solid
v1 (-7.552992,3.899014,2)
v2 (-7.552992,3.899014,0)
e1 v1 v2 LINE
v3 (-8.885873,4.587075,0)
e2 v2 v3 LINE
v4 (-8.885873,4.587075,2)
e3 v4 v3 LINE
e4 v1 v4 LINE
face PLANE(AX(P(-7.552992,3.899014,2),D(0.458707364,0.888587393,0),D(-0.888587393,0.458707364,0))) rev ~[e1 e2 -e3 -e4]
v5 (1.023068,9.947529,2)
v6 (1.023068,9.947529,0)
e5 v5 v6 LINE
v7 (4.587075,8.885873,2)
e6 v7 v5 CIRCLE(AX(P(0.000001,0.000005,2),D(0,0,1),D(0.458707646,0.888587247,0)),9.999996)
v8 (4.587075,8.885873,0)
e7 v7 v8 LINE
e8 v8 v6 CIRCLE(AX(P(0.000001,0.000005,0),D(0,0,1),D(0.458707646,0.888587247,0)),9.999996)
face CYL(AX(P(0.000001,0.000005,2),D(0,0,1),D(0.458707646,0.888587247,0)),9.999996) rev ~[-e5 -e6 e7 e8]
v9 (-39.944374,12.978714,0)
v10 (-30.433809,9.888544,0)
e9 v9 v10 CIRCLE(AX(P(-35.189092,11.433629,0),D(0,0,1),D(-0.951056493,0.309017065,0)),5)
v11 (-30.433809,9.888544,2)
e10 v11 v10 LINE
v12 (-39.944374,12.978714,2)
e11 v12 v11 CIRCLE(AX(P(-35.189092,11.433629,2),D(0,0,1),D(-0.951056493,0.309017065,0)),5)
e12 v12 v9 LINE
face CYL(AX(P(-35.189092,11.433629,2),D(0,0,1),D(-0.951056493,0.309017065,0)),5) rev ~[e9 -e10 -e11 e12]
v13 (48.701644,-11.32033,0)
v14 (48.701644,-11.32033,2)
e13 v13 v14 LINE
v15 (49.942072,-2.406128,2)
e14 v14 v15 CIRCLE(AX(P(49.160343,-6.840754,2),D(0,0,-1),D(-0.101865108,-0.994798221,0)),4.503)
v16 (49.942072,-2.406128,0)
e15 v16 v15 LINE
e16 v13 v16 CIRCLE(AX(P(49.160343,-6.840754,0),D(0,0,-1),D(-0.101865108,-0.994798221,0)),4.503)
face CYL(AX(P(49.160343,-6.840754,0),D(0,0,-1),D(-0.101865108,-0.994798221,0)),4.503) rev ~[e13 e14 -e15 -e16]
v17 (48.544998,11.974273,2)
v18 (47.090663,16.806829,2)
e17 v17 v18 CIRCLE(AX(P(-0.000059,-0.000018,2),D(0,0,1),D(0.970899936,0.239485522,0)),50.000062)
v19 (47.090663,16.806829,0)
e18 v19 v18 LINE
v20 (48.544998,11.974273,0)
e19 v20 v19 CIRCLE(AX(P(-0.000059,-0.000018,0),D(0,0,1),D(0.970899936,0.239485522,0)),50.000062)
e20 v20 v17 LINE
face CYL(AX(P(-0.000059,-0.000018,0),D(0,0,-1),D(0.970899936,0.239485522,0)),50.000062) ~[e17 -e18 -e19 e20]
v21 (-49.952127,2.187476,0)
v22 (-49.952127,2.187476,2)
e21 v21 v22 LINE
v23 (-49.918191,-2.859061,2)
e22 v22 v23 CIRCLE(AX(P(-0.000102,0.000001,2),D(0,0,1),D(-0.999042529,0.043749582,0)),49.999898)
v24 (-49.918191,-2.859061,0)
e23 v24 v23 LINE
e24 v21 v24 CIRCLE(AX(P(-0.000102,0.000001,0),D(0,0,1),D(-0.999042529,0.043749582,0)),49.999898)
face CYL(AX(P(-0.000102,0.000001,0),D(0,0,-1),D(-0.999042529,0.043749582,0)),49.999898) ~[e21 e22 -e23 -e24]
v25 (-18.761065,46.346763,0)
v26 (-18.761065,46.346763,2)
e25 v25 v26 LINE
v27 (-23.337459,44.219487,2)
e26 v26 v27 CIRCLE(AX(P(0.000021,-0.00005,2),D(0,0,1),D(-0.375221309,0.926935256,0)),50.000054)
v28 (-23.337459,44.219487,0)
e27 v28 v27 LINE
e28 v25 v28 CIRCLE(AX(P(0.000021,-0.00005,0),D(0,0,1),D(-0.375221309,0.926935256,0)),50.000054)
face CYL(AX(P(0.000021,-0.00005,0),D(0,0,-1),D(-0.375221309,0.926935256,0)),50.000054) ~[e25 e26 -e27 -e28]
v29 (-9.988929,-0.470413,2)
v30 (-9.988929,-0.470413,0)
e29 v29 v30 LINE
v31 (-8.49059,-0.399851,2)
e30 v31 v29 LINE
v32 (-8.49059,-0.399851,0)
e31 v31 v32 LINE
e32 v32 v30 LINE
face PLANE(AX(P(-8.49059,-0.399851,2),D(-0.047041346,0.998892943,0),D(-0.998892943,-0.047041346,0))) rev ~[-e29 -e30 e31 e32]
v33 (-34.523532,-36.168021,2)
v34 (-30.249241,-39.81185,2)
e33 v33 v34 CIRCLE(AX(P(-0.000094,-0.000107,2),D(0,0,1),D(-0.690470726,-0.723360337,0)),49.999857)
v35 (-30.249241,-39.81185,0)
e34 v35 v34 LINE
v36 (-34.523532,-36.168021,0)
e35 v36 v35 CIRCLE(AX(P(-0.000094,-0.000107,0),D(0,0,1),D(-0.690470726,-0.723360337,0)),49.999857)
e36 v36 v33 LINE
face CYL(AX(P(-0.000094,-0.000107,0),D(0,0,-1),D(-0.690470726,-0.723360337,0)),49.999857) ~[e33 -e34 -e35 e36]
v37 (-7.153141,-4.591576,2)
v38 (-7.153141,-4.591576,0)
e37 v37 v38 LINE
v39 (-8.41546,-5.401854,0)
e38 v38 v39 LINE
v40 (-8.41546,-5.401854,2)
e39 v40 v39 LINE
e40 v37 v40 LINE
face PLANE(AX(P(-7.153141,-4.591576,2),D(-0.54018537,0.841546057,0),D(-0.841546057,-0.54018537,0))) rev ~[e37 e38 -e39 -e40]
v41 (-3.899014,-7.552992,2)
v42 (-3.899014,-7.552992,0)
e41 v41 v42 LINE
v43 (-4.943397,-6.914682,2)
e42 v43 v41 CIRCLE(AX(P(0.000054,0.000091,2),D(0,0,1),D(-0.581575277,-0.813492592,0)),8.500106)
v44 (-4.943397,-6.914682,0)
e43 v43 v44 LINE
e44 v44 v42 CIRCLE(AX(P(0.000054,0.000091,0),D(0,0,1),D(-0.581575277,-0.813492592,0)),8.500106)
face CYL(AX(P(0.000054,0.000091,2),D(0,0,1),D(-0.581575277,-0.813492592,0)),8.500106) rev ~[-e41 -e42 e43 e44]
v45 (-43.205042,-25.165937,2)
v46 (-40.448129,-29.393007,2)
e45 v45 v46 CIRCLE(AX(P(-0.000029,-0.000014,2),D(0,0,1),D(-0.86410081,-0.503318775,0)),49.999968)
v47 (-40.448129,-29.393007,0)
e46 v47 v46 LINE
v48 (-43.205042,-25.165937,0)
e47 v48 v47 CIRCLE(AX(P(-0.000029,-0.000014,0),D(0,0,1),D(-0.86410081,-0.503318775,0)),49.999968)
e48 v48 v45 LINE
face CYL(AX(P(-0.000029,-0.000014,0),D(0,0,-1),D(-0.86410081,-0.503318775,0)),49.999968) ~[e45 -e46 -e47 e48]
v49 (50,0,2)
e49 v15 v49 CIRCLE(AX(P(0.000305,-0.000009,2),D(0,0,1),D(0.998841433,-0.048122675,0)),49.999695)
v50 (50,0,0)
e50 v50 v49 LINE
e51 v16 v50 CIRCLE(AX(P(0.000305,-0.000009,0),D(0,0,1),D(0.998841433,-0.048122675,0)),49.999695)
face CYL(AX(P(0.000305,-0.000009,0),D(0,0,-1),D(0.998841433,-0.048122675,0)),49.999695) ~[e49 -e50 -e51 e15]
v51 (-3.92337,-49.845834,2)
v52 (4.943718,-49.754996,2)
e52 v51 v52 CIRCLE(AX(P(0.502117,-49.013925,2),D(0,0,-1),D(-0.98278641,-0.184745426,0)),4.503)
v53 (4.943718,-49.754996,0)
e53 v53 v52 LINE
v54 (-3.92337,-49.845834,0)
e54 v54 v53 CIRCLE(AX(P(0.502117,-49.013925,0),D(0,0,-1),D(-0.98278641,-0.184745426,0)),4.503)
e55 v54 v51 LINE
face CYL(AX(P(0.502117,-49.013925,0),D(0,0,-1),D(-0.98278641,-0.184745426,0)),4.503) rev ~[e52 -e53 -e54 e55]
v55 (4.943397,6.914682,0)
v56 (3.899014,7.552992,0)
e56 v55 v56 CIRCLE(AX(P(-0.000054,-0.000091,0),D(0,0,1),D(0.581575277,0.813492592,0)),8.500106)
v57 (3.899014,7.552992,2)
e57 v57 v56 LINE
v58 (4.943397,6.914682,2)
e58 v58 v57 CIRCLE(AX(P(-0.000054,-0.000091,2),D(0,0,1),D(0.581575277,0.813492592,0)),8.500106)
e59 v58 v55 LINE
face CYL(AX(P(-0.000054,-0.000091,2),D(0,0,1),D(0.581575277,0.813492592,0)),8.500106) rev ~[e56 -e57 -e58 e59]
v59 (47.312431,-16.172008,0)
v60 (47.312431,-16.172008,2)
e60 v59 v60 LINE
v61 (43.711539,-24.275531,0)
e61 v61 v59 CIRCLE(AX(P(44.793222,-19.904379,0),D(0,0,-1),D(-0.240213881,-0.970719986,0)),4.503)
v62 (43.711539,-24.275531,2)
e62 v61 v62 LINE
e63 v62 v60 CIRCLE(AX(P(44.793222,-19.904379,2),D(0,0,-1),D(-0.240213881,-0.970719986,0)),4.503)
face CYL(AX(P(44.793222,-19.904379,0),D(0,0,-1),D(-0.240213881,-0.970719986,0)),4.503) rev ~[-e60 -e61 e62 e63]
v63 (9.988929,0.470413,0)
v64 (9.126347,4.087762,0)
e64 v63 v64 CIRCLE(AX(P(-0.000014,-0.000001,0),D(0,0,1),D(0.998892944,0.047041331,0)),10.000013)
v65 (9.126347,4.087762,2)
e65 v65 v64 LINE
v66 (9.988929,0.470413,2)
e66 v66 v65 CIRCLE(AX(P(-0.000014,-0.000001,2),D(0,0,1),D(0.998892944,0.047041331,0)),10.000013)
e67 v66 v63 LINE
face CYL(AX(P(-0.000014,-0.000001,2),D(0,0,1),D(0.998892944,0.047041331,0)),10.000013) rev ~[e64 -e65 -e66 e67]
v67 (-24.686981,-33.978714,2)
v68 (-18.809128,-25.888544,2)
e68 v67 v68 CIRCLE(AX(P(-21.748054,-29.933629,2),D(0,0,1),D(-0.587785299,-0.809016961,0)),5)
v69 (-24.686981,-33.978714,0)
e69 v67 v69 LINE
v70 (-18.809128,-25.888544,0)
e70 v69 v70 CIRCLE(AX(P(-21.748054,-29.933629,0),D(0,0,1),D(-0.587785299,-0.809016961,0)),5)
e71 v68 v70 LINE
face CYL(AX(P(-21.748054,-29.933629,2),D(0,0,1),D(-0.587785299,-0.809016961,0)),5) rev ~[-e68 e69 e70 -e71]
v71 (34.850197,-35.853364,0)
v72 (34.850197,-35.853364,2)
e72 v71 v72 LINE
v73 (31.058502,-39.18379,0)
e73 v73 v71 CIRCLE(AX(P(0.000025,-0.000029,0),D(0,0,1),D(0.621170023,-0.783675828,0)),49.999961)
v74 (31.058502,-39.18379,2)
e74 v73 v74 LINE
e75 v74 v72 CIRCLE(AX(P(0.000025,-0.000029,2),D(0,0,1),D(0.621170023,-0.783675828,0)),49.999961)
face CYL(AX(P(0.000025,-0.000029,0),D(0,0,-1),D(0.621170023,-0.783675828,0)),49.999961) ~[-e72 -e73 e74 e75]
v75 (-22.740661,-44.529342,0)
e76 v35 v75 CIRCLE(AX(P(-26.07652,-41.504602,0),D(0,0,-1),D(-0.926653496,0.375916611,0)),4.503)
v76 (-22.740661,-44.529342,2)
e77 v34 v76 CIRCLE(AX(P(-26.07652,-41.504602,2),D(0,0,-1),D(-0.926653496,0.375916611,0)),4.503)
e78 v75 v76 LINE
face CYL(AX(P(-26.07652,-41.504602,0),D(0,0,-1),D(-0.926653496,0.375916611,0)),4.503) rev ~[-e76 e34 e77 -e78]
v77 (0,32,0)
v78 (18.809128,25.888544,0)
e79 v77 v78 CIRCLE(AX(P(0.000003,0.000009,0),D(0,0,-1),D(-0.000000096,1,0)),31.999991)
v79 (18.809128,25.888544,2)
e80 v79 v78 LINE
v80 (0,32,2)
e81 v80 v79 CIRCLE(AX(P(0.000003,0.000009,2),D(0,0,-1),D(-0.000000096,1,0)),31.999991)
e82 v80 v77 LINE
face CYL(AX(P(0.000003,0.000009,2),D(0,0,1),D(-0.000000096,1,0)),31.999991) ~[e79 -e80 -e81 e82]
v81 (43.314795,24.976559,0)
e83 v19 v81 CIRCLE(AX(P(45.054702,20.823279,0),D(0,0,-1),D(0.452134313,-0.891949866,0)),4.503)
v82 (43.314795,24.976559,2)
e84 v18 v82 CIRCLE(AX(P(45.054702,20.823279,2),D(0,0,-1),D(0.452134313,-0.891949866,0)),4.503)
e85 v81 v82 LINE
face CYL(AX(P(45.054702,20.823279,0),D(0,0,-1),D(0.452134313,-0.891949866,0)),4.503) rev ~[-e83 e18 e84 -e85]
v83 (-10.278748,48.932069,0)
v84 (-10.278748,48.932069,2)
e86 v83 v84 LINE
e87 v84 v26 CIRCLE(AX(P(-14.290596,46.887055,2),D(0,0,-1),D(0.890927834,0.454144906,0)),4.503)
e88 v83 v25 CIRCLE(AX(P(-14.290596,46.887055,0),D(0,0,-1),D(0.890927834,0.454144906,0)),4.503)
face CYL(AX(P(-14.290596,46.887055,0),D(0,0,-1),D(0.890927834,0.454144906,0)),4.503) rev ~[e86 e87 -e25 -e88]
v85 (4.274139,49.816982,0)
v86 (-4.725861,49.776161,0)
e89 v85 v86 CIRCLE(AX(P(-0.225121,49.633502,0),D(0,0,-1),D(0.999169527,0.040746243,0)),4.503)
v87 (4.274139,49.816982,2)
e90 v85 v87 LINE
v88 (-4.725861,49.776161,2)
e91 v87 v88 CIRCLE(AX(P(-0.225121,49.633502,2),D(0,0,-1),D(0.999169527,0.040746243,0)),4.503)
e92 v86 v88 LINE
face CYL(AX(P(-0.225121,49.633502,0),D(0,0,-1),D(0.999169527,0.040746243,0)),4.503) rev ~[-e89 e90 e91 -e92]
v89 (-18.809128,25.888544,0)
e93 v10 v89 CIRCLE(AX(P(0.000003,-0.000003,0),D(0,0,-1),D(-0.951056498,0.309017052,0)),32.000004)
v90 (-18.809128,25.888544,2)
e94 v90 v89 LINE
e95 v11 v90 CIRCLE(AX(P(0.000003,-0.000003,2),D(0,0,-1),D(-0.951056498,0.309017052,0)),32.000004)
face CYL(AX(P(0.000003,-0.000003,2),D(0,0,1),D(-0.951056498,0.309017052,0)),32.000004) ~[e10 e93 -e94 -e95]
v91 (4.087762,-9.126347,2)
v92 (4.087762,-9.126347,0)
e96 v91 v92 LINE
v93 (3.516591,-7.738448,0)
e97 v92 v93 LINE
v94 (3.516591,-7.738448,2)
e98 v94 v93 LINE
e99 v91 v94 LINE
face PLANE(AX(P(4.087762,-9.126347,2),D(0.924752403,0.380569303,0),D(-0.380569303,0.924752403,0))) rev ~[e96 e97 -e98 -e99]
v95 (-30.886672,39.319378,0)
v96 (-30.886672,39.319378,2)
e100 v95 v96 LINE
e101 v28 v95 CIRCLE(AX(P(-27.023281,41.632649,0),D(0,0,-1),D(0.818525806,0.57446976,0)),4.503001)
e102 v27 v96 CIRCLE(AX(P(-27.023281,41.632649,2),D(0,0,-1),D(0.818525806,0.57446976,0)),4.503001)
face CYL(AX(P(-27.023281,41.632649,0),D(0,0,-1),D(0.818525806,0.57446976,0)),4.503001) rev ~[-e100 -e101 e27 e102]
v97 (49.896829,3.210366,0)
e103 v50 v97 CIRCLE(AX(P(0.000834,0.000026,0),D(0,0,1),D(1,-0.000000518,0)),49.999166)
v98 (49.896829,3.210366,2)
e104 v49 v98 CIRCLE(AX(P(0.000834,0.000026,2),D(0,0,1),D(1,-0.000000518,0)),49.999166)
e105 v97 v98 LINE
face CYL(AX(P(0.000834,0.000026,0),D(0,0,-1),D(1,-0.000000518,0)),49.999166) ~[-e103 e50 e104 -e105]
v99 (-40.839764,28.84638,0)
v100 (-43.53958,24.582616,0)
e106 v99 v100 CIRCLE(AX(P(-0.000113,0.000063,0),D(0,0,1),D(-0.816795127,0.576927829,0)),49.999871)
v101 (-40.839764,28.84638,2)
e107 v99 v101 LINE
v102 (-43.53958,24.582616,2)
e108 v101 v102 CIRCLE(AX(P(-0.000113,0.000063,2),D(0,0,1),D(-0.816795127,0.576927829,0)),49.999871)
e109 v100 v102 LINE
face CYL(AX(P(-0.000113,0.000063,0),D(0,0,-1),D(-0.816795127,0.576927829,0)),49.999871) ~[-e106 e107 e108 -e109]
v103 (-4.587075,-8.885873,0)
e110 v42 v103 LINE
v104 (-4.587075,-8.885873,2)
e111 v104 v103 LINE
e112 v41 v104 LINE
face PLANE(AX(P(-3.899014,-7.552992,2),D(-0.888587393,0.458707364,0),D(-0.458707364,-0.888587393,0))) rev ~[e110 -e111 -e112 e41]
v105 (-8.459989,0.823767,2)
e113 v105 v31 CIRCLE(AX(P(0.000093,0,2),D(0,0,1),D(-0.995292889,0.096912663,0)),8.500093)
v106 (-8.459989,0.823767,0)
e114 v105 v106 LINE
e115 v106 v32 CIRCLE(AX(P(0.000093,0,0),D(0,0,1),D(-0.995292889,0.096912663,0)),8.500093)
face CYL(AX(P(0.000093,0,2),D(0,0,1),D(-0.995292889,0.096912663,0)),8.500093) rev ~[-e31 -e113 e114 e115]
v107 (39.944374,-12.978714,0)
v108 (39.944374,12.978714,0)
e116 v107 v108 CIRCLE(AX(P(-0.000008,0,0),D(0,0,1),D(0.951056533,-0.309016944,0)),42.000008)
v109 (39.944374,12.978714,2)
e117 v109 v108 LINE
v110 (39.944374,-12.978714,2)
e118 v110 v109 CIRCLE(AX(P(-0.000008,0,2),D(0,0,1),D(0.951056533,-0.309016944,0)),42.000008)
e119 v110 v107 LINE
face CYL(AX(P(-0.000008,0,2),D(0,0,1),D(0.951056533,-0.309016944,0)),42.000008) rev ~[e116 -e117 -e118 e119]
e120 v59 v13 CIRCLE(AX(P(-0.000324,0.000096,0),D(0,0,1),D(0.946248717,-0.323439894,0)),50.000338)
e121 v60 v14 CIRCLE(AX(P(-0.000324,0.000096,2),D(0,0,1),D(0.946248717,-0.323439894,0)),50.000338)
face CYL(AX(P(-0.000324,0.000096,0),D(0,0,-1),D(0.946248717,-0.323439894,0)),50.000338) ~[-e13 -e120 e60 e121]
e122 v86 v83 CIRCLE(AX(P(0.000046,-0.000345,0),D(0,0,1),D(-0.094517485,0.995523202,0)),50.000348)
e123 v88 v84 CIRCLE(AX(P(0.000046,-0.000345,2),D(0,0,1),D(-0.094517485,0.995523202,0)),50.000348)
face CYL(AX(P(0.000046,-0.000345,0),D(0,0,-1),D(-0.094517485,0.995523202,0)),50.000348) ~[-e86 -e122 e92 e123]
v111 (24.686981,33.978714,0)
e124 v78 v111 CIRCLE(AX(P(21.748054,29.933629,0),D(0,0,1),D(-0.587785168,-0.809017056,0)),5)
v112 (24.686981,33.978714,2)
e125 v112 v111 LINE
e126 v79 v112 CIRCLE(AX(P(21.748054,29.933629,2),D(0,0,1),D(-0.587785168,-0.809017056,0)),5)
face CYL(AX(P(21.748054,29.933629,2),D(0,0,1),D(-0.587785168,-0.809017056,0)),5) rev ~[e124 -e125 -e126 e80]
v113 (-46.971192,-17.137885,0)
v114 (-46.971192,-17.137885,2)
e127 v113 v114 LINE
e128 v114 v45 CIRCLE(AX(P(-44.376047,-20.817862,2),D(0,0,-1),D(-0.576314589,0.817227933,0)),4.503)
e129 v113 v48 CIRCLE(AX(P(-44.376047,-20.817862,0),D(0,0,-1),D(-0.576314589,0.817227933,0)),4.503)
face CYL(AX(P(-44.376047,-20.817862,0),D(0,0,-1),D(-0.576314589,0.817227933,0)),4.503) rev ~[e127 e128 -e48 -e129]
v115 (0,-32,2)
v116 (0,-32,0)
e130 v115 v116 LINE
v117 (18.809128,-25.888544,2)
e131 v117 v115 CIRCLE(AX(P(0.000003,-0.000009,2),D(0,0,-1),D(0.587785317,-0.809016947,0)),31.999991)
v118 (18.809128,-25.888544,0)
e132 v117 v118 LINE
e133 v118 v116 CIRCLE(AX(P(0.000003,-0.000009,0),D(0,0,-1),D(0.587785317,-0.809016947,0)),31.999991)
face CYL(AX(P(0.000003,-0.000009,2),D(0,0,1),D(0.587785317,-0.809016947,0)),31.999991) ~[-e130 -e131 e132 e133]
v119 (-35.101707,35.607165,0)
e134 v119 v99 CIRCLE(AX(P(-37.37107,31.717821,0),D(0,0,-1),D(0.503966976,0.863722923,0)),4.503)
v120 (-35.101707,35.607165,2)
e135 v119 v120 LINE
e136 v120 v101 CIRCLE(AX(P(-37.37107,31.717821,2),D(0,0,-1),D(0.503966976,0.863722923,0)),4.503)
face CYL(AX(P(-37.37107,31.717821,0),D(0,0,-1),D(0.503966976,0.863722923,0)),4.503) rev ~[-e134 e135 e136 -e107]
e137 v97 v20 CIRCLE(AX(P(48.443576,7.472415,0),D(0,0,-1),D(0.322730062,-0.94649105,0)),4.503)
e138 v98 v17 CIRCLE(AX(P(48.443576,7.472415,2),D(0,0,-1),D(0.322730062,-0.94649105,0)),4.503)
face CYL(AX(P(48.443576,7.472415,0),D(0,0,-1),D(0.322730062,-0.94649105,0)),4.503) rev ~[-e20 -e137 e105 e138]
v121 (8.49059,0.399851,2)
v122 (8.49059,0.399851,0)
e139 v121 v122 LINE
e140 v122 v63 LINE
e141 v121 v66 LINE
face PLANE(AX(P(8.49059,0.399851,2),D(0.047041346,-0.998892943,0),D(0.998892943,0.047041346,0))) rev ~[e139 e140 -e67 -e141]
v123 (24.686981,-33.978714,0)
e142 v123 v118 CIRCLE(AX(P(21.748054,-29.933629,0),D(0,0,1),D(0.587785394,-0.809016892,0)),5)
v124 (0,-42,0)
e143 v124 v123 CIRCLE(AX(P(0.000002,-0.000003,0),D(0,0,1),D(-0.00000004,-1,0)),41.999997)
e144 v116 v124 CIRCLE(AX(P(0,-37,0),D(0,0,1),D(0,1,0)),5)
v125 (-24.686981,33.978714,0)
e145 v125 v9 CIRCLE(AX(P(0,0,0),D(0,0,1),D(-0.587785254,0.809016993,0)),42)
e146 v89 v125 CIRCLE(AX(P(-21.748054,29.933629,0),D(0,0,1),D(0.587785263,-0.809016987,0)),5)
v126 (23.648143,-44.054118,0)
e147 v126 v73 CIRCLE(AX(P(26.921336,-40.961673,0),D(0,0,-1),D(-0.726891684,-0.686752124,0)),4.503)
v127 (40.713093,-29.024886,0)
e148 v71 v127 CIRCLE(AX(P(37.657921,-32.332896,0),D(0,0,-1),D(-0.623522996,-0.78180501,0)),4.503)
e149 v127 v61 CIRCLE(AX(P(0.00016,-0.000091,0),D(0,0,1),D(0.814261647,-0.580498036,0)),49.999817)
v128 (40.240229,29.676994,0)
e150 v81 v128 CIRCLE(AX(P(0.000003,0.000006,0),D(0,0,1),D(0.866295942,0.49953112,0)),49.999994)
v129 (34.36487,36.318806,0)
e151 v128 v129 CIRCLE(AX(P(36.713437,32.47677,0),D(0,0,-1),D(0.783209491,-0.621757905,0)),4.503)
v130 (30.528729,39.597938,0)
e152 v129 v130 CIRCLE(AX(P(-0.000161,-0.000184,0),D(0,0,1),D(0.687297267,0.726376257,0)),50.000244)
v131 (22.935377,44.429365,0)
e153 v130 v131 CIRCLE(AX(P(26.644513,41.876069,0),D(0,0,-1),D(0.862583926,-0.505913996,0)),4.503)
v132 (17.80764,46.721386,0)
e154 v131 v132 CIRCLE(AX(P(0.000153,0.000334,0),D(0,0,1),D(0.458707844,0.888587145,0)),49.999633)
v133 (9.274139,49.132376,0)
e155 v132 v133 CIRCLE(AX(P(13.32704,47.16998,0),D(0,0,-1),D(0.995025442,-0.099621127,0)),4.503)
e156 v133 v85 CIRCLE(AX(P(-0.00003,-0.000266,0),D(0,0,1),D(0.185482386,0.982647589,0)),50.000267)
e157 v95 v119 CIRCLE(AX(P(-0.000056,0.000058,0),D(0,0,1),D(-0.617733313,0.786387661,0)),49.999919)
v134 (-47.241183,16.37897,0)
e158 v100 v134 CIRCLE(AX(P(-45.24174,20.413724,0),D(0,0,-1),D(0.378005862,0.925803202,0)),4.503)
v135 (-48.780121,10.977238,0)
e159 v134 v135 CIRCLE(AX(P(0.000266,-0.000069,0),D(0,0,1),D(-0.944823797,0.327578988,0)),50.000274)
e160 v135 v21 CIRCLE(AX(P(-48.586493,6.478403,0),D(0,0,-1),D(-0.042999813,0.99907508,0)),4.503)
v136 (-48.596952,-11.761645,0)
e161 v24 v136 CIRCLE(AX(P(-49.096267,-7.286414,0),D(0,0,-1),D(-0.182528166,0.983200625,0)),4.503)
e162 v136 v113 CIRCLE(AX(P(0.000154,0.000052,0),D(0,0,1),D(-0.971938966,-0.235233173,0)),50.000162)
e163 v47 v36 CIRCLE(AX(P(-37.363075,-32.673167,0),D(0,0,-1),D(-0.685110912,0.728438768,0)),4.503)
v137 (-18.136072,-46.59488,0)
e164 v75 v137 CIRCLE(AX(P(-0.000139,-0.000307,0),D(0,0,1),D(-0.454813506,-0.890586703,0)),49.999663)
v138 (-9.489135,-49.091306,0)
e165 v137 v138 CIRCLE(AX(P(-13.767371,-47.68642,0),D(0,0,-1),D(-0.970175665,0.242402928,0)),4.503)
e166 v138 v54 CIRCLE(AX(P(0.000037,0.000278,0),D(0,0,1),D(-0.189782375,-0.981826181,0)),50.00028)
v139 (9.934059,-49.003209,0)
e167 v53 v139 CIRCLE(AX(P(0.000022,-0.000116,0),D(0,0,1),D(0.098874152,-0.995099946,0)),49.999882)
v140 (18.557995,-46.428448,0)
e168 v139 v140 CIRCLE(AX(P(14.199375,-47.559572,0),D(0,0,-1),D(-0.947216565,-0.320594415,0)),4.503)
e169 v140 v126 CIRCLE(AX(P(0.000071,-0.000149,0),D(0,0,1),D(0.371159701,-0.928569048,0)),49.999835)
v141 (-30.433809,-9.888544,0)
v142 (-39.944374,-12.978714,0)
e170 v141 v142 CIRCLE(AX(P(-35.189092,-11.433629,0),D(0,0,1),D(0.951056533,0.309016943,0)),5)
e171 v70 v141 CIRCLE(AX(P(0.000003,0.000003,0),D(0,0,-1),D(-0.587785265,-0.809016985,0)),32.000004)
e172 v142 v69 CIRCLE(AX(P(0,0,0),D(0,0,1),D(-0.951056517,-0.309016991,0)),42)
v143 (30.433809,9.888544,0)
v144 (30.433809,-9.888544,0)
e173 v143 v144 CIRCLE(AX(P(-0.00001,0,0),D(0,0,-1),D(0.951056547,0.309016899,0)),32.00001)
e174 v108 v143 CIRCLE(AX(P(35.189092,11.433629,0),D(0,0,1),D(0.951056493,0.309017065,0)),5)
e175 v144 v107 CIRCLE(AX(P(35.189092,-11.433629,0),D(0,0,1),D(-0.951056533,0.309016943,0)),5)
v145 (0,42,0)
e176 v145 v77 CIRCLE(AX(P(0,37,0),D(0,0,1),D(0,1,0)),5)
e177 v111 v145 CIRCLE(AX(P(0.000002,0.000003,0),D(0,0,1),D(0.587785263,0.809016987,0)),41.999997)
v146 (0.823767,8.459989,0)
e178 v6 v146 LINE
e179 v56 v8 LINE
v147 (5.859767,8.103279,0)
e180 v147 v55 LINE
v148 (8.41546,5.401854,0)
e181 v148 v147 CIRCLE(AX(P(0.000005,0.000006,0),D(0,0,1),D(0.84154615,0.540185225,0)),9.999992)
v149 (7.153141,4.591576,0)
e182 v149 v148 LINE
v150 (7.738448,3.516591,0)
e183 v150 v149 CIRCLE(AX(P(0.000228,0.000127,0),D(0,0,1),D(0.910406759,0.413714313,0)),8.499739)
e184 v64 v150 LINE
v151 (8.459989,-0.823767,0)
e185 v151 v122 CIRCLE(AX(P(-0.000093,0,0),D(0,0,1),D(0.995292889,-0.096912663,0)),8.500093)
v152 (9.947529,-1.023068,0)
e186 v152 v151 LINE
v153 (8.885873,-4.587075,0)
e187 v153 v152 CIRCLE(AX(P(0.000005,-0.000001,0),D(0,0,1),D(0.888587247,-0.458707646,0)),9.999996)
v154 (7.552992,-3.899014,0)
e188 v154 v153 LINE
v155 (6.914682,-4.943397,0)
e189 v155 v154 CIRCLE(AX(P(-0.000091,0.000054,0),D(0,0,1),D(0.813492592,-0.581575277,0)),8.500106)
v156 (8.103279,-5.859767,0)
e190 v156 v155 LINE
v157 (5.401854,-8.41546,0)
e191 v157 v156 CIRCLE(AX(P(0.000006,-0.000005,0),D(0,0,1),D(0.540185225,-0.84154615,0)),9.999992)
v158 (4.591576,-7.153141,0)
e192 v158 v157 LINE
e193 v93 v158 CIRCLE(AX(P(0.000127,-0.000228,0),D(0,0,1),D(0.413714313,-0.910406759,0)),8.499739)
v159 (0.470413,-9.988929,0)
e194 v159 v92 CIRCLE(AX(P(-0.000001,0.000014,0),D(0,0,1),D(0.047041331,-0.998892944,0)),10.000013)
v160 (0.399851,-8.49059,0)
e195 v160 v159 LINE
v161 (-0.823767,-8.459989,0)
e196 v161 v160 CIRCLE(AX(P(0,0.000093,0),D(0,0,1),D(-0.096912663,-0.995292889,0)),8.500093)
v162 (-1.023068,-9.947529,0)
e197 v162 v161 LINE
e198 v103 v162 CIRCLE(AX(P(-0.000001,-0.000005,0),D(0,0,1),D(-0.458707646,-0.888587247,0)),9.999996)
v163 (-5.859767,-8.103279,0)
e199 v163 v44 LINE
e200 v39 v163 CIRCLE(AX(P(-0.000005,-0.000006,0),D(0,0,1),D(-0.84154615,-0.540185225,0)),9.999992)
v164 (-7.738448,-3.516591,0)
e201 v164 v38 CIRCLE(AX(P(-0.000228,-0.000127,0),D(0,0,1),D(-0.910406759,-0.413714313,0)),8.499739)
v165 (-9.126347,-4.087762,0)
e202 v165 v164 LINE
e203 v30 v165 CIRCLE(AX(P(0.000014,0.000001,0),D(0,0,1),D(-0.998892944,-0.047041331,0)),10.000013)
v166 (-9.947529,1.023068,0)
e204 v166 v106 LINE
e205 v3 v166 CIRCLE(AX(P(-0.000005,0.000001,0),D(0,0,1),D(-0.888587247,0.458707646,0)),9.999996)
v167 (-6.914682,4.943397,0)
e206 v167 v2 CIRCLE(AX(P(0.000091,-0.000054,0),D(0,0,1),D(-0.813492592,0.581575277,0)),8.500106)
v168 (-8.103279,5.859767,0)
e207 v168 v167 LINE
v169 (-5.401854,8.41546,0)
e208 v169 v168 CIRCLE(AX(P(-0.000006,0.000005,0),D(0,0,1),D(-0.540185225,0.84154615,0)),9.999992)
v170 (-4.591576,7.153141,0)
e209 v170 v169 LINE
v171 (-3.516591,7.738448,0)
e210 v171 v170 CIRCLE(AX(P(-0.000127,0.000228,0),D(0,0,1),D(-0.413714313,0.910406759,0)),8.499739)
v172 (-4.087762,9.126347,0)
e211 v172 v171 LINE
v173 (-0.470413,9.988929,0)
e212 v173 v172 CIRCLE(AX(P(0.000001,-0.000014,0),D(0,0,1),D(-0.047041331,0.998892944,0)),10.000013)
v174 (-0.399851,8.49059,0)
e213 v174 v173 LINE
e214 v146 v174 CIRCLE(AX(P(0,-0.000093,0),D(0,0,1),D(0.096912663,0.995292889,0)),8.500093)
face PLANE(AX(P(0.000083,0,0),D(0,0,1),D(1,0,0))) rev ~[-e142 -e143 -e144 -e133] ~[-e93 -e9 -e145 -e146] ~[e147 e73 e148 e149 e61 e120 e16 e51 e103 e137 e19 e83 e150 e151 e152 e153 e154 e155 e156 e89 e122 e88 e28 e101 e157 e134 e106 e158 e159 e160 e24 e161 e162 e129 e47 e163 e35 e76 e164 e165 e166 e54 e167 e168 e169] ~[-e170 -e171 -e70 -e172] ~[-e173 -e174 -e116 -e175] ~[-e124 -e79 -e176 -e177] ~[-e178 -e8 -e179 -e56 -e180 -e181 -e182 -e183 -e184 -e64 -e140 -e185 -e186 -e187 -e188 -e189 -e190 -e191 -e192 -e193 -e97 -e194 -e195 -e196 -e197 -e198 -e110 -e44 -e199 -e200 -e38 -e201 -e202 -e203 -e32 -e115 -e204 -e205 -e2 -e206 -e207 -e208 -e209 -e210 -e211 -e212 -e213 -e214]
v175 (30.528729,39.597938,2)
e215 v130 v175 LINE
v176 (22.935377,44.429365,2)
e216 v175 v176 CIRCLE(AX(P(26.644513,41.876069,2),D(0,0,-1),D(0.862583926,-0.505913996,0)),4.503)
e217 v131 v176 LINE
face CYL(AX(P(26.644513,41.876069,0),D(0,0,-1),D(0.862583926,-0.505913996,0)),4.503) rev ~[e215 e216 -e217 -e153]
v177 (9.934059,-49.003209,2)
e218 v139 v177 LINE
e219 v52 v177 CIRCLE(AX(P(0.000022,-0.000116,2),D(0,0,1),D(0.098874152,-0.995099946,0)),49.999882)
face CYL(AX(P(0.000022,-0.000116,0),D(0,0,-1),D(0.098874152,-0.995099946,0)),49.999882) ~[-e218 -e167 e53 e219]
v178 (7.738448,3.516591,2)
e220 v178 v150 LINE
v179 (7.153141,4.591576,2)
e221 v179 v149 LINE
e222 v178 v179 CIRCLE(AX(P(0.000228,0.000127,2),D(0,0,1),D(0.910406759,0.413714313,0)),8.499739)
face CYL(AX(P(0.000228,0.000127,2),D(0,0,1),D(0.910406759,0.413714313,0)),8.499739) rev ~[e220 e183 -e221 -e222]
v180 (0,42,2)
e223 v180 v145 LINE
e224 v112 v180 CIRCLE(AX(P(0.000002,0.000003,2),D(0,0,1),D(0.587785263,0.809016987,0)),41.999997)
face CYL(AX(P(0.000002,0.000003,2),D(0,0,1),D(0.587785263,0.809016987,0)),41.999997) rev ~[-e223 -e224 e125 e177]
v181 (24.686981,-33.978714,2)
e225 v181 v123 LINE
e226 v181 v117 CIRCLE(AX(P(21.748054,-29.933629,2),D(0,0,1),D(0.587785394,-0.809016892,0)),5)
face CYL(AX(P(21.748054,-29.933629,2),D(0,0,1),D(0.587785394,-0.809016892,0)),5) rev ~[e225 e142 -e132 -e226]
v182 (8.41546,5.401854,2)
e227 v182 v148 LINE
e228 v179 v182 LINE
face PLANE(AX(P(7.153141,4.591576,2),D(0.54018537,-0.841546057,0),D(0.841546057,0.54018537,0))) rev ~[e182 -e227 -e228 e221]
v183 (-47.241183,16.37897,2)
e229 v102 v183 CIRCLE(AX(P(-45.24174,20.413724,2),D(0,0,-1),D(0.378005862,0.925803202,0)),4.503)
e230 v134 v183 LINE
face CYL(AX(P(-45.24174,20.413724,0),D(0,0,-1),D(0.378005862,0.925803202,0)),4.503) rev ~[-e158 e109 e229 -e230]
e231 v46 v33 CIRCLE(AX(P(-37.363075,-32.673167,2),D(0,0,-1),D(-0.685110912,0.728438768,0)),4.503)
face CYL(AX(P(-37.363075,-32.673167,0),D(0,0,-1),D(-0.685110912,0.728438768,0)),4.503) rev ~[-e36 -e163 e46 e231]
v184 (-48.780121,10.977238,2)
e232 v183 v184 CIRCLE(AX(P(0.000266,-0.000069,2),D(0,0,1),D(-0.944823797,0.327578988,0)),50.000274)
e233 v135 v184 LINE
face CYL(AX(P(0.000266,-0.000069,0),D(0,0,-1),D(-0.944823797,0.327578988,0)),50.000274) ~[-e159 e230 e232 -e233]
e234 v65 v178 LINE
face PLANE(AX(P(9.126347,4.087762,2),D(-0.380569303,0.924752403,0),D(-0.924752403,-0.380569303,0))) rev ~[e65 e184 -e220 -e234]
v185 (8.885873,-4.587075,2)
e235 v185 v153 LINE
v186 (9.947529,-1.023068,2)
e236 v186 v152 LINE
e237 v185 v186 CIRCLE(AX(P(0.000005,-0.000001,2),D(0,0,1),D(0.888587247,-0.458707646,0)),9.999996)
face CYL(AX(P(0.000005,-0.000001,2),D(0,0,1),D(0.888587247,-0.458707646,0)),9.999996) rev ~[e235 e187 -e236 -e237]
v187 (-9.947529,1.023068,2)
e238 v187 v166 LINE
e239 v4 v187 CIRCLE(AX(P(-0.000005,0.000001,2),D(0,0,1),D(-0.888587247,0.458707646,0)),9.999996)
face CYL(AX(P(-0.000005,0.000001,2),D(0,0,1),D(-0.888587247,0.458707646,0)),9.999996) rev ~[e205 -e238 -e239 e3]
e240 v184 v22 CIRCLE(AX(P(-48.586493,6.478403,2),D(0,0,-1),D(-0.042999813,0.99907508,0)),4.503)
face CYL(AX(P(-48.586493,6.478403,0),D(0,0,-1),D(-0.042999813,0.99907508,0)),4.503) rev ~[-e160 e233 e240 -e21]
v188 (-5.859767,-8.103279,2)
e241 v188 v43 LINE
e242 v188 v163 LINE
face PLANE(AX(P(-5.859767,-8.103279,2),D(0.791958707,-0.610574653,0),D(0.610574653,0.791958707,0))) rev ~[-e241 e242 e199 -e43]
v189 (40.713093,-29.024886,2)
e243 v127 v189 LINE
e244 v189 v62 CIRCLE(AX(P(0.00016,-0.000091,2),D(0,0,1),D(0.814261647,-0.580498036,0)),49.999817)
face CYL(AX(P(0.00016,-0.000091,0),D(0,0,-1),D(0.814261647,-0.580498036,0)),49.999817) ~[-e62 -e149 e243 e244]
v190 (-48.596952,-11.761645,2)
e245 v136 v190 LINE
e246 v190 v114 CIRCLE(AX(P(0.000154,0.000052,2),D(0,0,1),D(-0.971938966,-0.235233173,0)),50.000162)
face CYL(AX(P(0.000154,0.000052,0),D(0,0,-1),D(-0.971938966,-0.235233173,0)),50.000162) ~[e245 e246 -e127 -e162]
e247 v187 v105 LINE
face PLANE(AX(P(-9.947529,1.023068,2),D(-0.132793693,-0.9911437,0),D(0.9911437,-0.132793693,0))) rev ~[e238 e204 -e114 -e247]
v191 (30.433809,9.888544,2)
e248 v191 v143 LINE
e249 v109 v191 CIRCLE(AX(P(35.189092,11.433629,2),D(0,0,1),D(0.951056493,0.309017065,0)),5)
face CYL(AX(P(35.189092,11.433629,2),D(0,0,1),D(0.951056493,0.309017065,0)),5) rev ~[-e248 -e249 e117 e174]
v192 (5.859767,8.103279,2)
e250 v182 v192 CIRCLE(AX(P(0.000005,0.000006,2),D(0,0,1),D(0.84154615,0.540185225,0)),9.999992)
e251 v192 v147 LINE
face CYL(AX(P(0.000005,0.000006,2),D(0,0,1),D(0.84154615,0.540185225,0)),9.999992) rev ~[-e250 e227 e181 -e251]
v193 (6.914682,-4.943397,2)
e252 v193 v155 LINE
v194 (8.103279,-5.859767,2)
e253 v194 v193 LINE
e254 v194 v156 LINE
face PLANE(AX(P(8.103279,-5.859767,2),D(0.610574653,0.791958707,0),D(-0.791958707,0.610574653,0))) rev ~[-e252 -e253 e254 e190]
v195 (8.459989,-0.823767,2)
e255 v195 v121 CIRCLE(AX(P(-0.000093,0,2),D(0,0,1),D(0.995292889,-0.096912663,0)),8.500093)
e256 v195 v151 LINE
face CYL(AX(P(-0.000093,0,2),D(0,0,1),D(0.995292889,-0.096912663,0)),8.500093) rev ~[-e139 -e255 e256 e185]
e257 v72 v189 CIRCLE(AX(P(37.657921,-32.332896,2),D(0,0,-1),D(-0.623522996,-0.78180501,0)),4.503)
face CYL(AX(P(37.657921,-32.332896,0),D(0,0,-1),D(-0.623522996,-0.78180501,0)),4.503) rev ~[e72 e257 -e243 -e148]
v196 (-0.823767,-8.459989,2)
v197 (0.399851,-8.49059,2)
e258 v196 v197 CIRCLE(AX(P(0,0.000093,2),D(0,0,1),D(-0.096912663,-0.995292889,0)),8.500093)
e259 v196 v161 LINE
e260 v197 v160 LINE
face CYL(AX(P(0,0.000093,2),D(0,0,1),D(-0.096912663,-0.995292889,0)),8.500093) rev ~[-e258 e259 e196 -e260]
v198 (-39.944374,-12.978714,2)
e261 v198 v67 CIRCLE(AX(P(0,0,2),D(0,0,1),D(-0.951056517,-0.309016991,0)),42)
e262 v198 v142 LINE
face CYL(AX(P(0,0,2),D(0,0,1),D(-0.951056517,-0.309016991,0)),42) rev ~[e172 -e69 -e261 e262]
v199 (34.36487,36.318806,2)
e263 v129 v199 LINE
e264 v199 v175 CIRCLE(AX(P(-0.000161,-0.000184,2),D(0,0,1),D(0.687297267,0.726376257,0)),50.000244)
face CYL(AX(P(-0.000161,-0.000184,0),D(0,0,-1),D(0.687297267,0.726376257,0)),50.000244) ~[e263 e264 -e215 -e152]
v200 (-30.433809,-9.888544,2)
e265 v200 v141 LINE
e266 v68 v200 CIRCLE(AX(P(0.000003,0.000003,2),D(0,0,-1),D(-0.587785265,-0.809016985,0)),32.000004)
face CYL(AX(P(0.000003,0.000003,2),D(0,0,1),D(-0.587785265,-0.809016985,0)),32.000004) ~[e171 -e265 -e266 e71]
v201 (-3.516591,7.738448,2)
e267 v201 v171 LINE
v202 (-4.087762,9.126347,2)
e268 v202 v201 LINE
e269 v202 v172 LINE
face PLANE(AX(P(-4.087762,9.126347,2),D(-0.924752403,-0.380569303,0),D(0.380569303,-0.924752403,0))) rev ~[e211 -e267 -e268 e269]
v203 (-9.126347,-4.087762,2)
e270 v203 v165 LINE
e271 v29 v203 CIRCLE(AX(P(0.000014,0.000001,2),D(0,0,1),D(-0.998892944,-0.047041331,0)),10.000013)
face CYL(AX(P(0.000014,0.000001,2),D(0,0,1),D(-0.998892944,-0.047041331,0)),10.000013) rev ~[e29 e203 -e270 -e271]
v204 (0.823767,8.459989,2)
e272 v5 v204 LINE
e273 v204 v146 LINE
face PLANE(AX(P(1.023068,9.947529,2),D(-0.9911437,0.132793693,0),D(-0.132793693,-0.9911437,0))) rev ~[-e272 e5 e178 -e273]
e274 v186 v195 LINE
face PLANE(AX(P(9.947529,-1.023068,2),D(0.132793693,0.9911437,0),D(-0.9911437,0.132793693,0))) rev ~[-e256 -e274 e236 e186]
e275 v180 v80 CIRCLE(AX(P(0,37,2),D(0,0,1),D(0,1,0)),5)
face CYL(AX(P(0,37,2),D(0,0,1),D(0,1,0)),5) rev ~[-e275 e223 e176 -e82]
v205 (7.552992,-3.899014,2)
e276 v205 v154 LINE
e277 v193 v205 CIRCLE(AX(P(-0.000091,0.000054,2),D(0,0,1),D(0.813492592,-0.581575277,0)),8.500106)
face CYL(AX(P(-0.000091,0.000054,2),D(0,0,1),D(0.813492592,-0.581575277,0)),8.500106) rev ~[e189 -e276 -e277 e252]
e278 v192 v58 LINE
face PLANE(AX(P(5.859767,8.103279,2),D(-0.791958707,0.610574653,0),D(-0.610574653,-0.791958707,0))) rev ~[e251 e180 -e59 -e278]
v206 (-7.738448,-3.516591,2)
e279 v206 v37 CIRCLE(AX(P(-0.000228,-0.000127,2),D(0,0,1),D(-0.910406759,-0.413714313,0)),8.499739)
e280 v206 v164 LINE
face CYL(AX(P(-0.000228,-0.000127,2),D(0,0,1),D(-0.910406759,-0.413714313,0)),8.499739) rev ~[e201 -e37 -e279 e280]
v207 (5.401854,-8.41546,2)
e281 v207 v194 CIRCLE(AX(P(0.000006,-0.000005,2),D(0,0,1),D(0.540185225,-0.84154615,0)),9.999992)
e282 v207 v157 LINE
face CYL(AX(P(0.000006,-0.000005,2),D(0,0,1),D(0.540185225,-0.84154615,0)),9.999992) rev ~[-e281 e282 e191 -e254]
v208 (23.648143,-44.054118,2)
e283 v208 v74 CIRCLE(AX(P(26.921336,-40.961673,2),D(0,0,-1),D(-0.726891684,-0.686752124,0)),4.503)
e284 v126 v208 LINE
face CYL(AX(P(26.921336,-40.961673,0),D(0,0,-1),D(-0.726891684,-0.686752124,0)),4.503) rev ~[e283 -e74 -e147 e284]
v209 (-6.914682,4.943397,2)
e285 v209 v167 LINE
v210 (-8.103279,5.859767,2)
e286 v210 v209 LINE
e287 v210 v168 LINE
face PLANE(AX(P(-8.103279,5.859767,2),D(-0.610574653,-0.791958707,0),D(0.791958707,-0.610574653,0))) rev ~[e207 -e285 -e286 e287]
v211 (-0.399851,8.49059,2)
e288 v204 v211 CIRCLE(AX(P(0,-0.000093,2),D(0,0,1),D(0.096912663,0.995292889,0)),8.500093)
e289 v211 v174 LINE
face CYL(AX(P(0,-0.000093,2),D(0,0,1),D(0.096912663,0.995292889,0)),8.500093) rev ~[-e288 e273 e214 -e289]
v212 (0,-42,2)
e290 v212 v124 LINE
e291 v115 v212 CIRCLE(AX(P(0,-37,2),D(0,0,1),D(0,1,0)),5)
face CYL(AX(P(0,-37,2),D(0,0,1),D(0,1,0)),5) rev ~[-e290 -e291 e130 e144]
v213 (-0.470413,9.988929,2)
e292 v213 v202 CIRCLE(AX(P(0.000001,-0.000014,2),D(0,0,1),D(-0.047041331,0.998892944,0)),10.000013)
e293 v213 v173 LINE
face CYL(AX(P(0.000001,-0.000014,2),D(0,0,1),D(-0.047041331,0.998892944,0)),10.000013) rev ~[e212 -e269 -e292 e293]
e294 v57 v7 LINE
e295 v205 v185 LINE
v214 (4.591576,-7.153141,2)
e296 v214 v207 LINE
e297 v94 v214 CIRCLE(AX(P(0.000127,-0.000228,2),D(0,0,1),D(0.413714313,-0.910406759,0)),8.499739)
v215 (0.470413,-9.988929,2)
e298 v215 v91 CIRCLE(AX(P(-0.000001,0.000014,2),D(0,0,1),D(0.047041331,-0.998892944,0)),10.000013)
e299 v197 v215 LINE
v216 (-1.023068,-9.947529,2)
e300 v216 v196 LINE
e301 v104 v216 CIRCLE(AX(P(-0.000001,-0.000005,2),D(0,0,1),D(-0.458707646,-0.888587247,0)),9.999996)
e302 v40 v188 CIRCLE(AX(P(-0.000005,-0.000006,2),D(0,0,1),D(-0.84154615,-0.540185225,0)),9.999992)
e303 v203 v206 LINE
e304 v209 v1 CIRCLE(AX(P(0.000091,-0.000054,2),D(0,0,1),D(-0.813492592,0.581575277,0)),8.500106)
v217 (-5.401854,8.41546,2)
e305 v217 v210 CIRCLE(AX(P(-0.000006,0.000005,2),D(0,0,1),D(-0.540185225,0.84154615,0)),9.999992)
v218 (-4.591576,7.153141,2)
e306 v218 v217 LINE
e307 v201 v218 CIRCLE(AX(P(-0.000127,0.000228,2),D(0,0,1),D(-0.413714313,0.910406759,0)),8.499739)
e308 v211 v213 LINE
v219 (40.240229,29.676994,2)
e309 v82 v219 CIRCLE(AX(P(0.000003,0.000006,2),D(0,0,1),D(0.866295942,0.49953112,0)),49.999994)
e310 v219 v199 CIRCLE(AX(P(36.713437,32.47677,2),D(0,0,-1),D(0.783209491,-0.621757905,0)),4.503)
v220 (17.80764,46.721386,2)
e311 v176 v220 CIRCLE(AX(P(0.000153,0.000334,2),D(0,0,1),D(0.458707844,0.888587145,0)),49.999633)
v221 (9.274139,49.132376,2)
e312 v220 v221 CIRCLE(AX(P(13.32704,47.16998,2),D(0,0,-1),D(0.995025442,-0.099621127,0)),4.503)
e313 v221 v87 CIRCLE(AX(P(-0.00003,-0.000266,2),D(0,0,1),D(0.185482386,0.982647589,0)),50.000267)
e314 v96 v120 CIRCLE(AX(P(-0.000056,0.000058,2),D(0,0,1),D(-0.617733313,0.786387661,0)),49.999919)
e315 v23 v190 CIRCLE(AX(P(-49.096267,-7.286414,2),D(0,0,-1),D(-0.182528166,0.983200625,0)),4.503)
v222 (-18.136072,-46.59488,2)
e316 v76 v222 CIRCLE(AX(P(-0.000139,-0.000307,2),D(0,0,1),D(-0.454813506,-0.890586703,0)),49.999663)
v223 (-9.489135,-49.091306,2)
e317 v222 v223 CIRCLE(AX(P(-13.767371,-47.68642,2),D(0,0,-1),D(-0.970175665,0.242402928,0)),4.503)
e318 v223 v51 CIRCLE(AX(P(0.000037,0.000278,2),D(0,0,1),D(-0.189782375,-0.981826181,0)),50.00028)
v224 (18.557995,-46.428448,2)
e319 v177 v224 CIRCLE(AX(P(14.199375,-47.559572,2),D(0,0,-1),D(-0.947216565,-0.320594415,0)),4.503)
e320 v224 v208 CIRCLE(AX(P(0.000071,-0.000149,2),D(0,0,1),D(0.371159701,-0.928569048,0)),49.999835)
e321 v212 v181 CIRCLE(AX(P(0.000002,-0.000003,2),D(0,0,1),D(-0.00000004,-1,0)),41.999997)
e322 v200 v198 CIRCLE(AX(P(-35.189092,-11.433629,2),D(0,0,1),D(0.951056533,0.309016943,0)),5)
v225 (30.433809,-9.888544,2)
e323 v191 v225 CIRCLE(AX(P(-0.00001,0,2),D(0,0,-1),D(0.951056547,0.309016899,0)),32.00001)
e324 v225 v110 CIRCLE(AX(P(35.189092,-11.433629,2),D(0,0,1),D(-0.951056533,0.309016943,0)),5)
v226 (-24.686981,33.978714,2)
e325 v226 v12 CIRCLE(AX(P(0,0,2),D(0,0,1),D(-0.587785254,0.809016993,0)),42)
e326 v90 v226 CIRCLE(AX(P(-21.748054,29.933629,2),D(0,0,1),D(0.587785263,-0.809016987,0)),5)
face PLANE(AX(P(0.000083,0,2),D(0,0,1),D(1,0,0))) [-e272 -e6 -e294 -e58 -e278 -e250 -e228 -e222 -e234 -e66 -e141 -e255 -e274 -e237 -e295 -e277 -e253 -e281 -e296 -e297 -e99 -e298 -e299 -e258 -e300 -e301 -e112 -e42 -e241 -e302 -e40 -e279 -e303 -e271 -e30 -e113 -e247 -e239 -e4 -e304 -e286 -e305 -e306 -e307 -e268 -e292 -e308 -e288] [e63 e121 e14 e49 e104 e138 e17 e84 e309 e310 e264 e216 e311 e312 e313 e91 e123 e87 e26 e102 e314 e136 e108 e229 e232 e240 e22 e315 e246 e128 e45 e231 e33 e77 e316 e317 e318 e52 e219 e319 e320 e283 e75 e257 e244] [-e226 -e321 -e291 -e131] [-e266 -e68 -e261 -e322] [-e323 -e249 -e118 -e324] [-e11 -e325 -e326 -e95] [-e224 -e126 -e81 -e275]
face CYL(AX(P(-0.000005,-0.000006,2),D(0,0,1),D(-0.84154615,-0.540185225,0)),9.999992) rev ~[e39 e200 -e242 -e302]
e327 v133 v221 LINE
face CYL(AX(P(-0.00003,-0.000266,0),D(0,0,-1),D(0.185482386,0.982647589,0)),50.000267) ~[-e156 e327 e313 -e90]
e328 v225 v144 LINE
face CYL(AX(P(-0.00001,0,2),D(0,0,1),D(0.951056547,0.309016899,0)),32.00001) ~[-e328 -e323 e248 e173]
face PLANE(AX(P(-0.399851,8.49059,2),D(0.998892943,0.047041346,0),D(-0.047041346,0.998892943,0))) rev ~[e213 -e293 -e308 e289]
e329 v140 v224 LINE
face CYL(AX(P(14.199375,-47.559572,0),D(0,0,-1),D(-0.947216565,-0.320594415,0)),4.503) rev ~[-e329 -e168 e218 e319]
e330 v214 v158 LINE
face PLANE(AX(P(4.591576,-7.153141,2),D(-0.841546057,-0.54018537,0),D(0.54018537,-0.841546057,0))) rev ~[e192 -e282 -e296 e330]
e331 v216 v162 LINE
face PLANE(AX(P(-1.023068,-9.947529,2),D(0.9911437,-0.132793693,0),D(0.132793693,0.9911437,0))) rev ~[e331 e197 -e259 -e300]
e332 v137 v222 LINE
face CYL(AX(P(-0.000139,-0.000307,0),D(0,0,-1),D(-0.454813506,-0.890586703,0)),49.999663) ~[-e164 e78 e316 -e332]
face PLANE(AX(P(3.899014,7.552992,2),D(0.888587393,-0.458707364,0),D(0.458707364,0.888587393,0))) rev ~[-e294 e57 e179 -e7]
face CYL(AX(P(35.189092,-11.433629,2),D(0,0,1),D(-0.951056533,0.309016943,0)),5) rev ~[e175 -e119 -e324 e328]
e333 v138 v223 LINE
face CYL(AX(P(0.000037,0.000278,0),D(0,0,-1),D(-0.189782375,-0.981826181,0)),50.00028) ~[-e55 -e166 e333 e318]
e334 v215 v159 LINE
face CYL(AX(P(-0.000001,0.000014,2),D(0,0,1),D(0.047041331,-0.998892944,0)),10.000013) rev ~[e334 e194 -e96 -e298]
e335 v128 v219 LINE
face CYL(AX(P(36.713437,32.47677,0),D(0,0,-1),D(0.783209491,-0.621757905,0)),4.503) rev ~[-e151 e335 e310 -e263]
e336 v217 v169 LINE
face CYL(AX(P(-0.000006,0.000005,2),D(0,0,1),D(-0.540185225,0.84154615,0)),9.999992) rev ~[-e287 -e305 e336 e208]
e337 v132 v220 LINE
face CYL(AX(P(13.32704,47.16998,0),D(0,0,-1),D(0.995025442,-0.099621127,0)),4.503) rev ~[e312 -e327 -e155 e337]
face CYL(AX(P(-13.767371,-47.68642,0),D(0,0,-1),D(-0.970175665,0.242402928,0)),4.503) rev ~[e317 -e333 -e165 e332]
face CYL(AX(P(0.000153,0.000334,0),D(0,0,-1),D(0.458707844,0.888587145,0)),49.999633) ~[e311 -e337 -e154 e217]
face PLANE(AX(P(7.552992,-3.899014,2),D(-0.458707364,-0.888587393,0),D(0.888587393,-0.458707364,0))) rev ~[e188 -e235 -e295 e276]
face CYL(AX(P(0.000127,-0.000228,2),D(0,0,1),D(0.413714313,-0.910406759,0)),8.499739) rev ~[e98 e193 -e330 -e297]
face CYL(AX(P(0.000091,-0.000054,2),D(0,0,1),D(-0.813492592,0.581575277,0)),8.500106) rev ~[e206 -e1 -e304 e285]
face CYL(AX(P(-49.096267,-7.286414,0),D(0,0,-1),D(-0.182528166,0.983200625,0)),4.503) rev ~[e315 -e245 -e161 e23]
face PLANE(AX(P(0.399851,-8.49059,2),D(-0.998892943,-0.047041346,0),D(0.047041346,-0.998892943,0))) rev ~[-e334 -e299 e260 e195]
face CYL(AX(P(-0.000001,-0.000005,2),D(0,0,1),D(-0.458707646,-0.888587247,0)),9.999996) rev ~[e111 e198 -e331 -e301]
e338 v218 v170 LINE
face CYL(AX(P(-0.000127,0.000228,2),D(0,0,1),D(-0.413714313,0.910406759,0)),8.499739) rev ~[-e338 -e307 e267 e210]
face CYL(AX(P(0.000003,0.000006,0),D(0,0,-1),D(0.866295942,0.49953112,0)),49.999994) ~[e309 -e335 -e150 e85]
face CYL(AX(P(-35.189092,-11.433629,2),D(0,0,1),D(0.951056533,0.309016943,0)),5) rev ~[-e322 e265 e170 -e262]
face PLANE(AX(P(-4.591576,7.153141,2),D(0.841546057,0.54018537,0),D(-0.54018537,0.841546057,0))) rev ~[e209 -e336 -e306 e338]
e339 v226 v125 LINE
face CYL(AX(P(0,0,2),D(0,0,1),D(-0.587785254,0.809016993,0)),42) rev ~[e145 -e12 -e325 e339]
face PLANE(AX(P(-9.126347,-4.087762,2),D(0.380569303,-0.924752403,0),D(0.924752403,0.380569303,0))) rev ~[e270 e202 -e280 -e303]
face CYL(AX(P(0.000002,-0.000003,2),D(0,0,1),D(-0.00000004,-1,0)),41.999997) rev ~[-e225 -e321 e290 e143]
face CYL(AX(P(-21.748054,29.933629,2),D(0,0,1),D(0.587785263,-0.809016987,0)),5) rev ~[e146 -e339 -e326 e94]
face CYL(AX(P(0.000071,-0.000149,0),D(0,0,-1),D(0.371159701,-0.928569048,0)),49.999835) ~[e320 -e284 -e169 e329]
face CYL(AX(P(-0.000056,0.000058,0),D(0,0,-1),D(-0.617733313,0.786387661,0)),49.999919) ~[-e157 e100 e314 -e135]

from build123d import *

# Parameters (mm, degrees)
F1_DEPTH = 2
F3_DEPTH = 2
F5_DEPTH = 2


with BuildPart() as f1:
    # F0 (on Top) → F1 (new body)
    with BuildSketch(Plane.XY):
        with BuildLine():
            ThreePointArc((49.942072, -2.406128), (49.985516, -1.203413), (50, 0))
            ThreePointArc((50, 0), (49.974201, 1.606012), (49.896829, 3.210366))
            ThreePointArc((49.896829, 3.210366), (43.993208, 6.785947), (48.544998, 11.974273))
            ThreePointArc((48.544998, 11.974273), (47.87884, 14.408911), (47.090663, 16.806829))
            ThreePointArc((47.090663, 16.806829), (40.967156, 18.934106), (43.314795, 24.976559))
            ThreePointArc((43.314795, 24.976559), (41.843566, 27.369983), (40.240229, 29.676994))
            ThreePointArc((40.240229, 29.676994), (33.340682, 29.493226), (34.36487, 36.318806))
            ThreePointArc((34.36487, 36.318806), (32.488197, 38.006802), (30.528729, 39.597938))
            ThreePointArc((30.528729, 39.597938), (24.227214, 38.076901), (22.935377, 44.429365))
            ThreePointArc((22.935377, 44.429365), (20.403718, 45.647435), (17.80764, 46.721386))
            ThreePointArc((17.80764, 46.721386), (12.102725, 42.836614), (9.274139, 49.132376))
            ThreePointArc((9.274139, 49.132376), (6.782782, 49.537802), (4.274139, 49.816982))
            ThreePointArc((4.274139, 49.816982), (-0.204697, 45.130548), (-4.725861, 49.776161))
            ThreePointArc((-4.725861, 49.776161), (-7.514166, 49.432148), (-10.278748, 48.932069))
            ThreePointArc((-10.278748, 48.932069), (-12.977762, 42.57968), (-18.761065, 46.346763))
            ThreePointArc((-18.761065, 46.346763), (-21.076119, 45.3409), (-23.337459, 44.219487))
            ThreePointArc((-23.337459, 44.219487), (-24.571619, 37.855565), (-30.886672, 39.319378))
            ThreePointArc((-30.886672, 39.319378), (-33.046356, 37.522505), (-35.101707, 35.607165))
            ThreePointArc((-35.101707, 35.607165), (-33.937901, 28.803999), (-40.839764, 28.84638))
            ThreePointArc((-40.839764, 28.84638), (-42.243501, 26.748582), (-43.53958, 24.582616))
            ThreePointArc((-43.53958, 24.582616), (-41.137225, 18.561708), (-47.241183, 16.37897))
            ThreePointArc((-47.241183, 16.37897), (-48.086561, 13.69973), (-48.780121, 10.977238))
            ThreePointArc((-48.780121, 10.977238), (-44.122996, 5.883251), (-49.952127, 2.187476))
            ThreePointArc((-49.952127, 2.187476), (-49.99887, -0.336221), (-49.918191, -2.859061))
            ThreePointArc((-49.918191, -2.859061), (-44.642053, -6.62536), (-48.596952, -11.761645))
            ThreePointArc((-48.596952, -11.761645), (-47.859623, -14.472611), (-46.971192, -17.137885))
            ThreePointArc((-46.971192, -17.137885), (-40.299352, -18.905387), (-43.205042, -25.165937))
            ThreePointArc((-43.205042, -25.165937), (-41.879951, -27.314277), (-40.448129, -29.393007))
            ThreePointArc((-40.448129, -29.393007), (-33.973344, -29.708924), (-34.523532, -36.168021))
            ThreePointArc((-34.523532, -36.168021), (-32.437593, -38.050001), (-30.249241, -39.81185))
            ThreePointArc((-30.249241, -39.81185), (-23.680948, -37.691698), (-22.740661, -44.529342))
            ThreePointArc((-22.740661, -44.529342), (-20.464443, -45.620243), (-18.136072, -46.59488))
            ThreePointArc((-18.136072, -46.59488), (-12.518339, -43.360114), (-9.489135, -49.091306))
            ThreePointArc((-9.489135, -49.091306), (-6.716856, -49.546784), (-3.92337, -49.845834))
            ThreePointArc((-3.92337, -49.845834), (0.455989, -44.511162), (4.943718, -49.754996))
            ThreePointArc((4.943718, -49.754996), (7.44838, -49.442104), (9.934059, -49.003209))
            ThreePointArc((9.934059, -49.003209), (12.91115, -43.244774), (18.557995, -46.428448))
            ThreePointArc((18.557995, -46.428448), (21.136435, -45.312814), (23.648143, -44.054118))
            ThreePointArc((23.648143, -44.054118), (24.448153, -37.198646), (31.058502, -39.18379))
            ThreePointArc((31.058502, -39.18379), (32.996395, -37.566446), (34.850197, -35.853364))
            ThreePointArc((34.850197, -35.853364), (34.241441, -29.399524), (40.713093, -29.024886))
            ThreePointArc((40.713093, -29.024886), (42.279058, -26.692345), (43.711539, -24.275531))
            ThreePointArc((43.711539, -24.275531), (40.678202, -18.075823), (47.312431, -16.172008))
            ThreePointArc((47.312431, -16.172008), (48.068288, -13.763707), (48.701644, -11.32033))
            ThreePointArc((48.701644, -11.32033), (44.700316, -6.220133), (49.942072, -2.406128))
        make_face()
    extrude(amount=F1_DEPTH)

    # F2 (on face) → F3 (cut)
    with BuildSketch(Plane.XY.offset(2)):
        with BuildLine():
            Line((8.49059, 0.399851), (9.988929, 0.470413))
            ThreePointArc((9.988929, 0.470413), (9.727268, 2.319537), (9.126347, 4.087762))
            Line((9.126347, 4.087762), (7.738448, 3.516591))
            ThreePointArc((7.738448, 3.516591), (7.46517, 4.064633), (7.153141, 4.591576))
            Line((7.153141, 4.591576), (8.41546, 5.401854))
            ThreePointArc((8.41546, 5.401854), (7.264293, 6.872412), (5.859767, 8.103279))
            Line((5.859767, 8.103279), (4.943397, 6.914682))
            ThreePointArc((4.943397, 6.914682), (4.43271, 7.25266), (3.899014, 7.552992))
            Line((3.899014, 7.552992), (4.587075, 8.885873))
            ThreePointArc((4.587075, 8.885873), (2.854856, 9.58383), (1.023068, 9.947529))
            Line((1.023068, 9.947529), (0.823767, 8.459989))
            ThreePointArc((0.823767, 8.459989), (0.21251, 8.497343), (-0.399851, 8.49059))
            Line((-0.399851, 8.49059), (-0.470413, 9.988929))
            ThreePointArc((-0.470413, 9.988929), (-2.319537, 9.727268), (-4.087762, 9.126347))
            Line((-4.087762, 9.126347), (-3.516591, 7.738448))
            ThreePointArc((-3.516591, 7.738448), (-4.064633, 7.46517), (-4.591576, 7.153141))
            Line((-4.591576, 7.153141), (-5.401854, 8.41546))
            ThreePointArc((-5.401854, 8.41546), (-6.872412, 7.264293), (-8.103279, 5.859767))
            Line((-8.103279, 5.859767), (-6.914682, 4.943397))
            ThreePointArc((-6.914682, 4.943397), (-7.25266, 4.43271), (-7.552992, 3.899014))
            Line((-7.552992, 3.899014), (-8.885873, 4.587075))
            ThreePointArc((-8.885873, 4.587075), (-9.58383, 2.854856), (-9.947529, 1.023068))
            Line((-9.947529, 1.023068), (-8.459989, 0.823767))
            ThreePointArc((-8.459989, 0.823767), (-8.497343, 0.21251), (-8.49059, -0.399851))
            Line((-8.49059, -0.399851), (-9.988929, -0.470413))
            ThreePointArc((-9.988929, -0.470413), (-9.727268, -2.319537), (-9.126347, -4.087762))
            Line((-9.126347, -4.087762), (-7.738448, -3.516591))
            ThreePointArc((-7.738448, -3.516591), (-7.46517, -4.064633), (-7.153141, -4.591576))
            Line((-7.153141, -4.591576), (-8.41546, -5.401854))
            ThreePointArc((-8.41546, -5.401854), (-7.264293, -6.872412), (-5.859767, -8.103279))
            Line((-5.859767, -8.103279), (-4.943397, -6.914682))
            ThreePointArc((-4.943397, -6.914682), (-4.43271, -7.25266), (-3.899014, -7.552992))
            Line((-3.899014, -7.552992), (-4.587075, -8.885873))
            ThreePointArc((-4.587075, -8.885873), (-2.854856, -9.58383), (-1.023068, -9.947529))
            Line((-1.023068, -9.947529), (-0.823767, -8.459989))
            ThreePointArc((-0.823767, -8.459989), (-0.21251, -8.497343), (0.399851, -8.49059))
            Line((0.399851, -8.49059), (0.470413, -9.988929))
            ThreePointArc((0.470413, -9.988929), (2.319537, -9.727268), (4.087762, -9.126347))
            Line((4.087762, -9.126347), (3.516591, -7.738448))
            ThreePointArc((3.516591, -7.738448), (4.064633, -7.46517), (4.591576, -7.153141))
            Line((4.591576, -7.153141), (5.401854, -8.41546))
            ThreePointArc((5.401854, -8.41546), (6.872412, -7.264293), (8.103279, -5.859767))
            Line((8.103279, -5.859767), (6.914682, -4.943397))
            ThreePointArc((6.914682, -4.943397), (7.25266, -4.43271), (7.552992, -3.899014))
            Line((7.552992, -3.899014), (8.885873, -4.587075))
            ThreePointArc((8.885873, -4.587075), (9.58383, -2.854856), (9.947529, -1.023068))
            Line((9.947529, -1.023068), (8.459989, -0.823767))
            ThreePointArc((8.459989, -0.823767), (8.497343, -0.21251), (8.49059, 0.399851))
        make_face()
    extrude(amount=-F3_DEPTH, mode=Mode.SUBTRACT)

    # F4 (on face) → F5 (cut)
    with BuildSketch(Plane.XY.offset(2)):
        with BuildLine():
            ThreePointArc((18.809128, 25.888544), (25.793139, 26.994703), (24.686981, 33.978714))
            ThreePointArc((24.686981, 33.978714), (12.978714, 39.944374), (0, 42))
            ThreePointArc((0, 42), (3.535534, 40.535534), (5, 37))
            ThreePointArc((5, 37), (3.535534, 33.464466), (0, 32))
            ThreePointArc((0, 32), (9.888544, 30.433809), (18.809128, 25.888544))
        make_face()
        with BuildLine():
            ThreePointArc((5, 37), (3.535534, 40.535534), (0, 42))
            ThreePointArc((0, 42), (-5, 37), (0, 32))
            ThreePointArc((0, 32), (3.535534, 33.464466), (5, 37))
        make_face()
        with BuildLine():
            ThreePointArc((-30.433809, 9.888544), (-25.888544, 18.809128), (-18.809128, 25.888544))
            ThreePointArc((-18.809128, 25.888544), (-17.702969, 32.872555), (-24.686981, 33.978714))
            ThreePointArc((-24.686981, 33.978714), (-33.978714, 24.686981), (-39.944374, 12.978714))
            ThreePointArc((-39.944374, 12.978714), (-36.734176, 6.678346), (-30.433809, 9.888544))
        make_face()
        with BuildLine():
            ThreePointArc((-18.809128, -25.888544), (-25.888544, -18.809128), (-30.433809, -9.888544))
            ThreePointArc((-30.433809, -9.888544), (-36.734176, -6.678346), (-39.944374, -12.978714))
            ThreePointArc((-39.944374, -12.978714), (-33.978714, -24.686981), (-24.686981, -33.978714))
            ThreePointArc((-24.686981, -33.978714), (-17.702969, -32.872555), (-18.809128, -25.888544))
        make_face()
        with BuildLine():
            ThreePointArc((18.809128, -25.888544), (9.888544, -30.433809), (0, -32))
            ThreePointArc((0, -32), (-5, -37), (0, -42))
            ThreePointArc((0, -42), (12.978714, -39.944374), (24.686981, -33.978714))
            ThreePointArc((24.686981, -33.978714), (25.793139, -26.994703), (18.809128, -25.888544))
        make_face()
        with BuildLine():
            ThreePointArc((30.433809, 9.888544), (32, 0), (30.433809, -9.888544))
            ThreePointArc((30.433809, -9.888544), (33.644006, -16.188911), (39.944374, -12.978714))
            ThreePointArc((39.944374, -12.978714), (42, 0), (39.944374, 12.978714))
            ThreePointArc((39.944374, 12.978714), (33.644006, 16.188911), (30.433809, 9.888544))
        make_face()
    extrude(amount=-F5_DEPTH, mode=Mode.SUBTRACT)


solid = f1.part
